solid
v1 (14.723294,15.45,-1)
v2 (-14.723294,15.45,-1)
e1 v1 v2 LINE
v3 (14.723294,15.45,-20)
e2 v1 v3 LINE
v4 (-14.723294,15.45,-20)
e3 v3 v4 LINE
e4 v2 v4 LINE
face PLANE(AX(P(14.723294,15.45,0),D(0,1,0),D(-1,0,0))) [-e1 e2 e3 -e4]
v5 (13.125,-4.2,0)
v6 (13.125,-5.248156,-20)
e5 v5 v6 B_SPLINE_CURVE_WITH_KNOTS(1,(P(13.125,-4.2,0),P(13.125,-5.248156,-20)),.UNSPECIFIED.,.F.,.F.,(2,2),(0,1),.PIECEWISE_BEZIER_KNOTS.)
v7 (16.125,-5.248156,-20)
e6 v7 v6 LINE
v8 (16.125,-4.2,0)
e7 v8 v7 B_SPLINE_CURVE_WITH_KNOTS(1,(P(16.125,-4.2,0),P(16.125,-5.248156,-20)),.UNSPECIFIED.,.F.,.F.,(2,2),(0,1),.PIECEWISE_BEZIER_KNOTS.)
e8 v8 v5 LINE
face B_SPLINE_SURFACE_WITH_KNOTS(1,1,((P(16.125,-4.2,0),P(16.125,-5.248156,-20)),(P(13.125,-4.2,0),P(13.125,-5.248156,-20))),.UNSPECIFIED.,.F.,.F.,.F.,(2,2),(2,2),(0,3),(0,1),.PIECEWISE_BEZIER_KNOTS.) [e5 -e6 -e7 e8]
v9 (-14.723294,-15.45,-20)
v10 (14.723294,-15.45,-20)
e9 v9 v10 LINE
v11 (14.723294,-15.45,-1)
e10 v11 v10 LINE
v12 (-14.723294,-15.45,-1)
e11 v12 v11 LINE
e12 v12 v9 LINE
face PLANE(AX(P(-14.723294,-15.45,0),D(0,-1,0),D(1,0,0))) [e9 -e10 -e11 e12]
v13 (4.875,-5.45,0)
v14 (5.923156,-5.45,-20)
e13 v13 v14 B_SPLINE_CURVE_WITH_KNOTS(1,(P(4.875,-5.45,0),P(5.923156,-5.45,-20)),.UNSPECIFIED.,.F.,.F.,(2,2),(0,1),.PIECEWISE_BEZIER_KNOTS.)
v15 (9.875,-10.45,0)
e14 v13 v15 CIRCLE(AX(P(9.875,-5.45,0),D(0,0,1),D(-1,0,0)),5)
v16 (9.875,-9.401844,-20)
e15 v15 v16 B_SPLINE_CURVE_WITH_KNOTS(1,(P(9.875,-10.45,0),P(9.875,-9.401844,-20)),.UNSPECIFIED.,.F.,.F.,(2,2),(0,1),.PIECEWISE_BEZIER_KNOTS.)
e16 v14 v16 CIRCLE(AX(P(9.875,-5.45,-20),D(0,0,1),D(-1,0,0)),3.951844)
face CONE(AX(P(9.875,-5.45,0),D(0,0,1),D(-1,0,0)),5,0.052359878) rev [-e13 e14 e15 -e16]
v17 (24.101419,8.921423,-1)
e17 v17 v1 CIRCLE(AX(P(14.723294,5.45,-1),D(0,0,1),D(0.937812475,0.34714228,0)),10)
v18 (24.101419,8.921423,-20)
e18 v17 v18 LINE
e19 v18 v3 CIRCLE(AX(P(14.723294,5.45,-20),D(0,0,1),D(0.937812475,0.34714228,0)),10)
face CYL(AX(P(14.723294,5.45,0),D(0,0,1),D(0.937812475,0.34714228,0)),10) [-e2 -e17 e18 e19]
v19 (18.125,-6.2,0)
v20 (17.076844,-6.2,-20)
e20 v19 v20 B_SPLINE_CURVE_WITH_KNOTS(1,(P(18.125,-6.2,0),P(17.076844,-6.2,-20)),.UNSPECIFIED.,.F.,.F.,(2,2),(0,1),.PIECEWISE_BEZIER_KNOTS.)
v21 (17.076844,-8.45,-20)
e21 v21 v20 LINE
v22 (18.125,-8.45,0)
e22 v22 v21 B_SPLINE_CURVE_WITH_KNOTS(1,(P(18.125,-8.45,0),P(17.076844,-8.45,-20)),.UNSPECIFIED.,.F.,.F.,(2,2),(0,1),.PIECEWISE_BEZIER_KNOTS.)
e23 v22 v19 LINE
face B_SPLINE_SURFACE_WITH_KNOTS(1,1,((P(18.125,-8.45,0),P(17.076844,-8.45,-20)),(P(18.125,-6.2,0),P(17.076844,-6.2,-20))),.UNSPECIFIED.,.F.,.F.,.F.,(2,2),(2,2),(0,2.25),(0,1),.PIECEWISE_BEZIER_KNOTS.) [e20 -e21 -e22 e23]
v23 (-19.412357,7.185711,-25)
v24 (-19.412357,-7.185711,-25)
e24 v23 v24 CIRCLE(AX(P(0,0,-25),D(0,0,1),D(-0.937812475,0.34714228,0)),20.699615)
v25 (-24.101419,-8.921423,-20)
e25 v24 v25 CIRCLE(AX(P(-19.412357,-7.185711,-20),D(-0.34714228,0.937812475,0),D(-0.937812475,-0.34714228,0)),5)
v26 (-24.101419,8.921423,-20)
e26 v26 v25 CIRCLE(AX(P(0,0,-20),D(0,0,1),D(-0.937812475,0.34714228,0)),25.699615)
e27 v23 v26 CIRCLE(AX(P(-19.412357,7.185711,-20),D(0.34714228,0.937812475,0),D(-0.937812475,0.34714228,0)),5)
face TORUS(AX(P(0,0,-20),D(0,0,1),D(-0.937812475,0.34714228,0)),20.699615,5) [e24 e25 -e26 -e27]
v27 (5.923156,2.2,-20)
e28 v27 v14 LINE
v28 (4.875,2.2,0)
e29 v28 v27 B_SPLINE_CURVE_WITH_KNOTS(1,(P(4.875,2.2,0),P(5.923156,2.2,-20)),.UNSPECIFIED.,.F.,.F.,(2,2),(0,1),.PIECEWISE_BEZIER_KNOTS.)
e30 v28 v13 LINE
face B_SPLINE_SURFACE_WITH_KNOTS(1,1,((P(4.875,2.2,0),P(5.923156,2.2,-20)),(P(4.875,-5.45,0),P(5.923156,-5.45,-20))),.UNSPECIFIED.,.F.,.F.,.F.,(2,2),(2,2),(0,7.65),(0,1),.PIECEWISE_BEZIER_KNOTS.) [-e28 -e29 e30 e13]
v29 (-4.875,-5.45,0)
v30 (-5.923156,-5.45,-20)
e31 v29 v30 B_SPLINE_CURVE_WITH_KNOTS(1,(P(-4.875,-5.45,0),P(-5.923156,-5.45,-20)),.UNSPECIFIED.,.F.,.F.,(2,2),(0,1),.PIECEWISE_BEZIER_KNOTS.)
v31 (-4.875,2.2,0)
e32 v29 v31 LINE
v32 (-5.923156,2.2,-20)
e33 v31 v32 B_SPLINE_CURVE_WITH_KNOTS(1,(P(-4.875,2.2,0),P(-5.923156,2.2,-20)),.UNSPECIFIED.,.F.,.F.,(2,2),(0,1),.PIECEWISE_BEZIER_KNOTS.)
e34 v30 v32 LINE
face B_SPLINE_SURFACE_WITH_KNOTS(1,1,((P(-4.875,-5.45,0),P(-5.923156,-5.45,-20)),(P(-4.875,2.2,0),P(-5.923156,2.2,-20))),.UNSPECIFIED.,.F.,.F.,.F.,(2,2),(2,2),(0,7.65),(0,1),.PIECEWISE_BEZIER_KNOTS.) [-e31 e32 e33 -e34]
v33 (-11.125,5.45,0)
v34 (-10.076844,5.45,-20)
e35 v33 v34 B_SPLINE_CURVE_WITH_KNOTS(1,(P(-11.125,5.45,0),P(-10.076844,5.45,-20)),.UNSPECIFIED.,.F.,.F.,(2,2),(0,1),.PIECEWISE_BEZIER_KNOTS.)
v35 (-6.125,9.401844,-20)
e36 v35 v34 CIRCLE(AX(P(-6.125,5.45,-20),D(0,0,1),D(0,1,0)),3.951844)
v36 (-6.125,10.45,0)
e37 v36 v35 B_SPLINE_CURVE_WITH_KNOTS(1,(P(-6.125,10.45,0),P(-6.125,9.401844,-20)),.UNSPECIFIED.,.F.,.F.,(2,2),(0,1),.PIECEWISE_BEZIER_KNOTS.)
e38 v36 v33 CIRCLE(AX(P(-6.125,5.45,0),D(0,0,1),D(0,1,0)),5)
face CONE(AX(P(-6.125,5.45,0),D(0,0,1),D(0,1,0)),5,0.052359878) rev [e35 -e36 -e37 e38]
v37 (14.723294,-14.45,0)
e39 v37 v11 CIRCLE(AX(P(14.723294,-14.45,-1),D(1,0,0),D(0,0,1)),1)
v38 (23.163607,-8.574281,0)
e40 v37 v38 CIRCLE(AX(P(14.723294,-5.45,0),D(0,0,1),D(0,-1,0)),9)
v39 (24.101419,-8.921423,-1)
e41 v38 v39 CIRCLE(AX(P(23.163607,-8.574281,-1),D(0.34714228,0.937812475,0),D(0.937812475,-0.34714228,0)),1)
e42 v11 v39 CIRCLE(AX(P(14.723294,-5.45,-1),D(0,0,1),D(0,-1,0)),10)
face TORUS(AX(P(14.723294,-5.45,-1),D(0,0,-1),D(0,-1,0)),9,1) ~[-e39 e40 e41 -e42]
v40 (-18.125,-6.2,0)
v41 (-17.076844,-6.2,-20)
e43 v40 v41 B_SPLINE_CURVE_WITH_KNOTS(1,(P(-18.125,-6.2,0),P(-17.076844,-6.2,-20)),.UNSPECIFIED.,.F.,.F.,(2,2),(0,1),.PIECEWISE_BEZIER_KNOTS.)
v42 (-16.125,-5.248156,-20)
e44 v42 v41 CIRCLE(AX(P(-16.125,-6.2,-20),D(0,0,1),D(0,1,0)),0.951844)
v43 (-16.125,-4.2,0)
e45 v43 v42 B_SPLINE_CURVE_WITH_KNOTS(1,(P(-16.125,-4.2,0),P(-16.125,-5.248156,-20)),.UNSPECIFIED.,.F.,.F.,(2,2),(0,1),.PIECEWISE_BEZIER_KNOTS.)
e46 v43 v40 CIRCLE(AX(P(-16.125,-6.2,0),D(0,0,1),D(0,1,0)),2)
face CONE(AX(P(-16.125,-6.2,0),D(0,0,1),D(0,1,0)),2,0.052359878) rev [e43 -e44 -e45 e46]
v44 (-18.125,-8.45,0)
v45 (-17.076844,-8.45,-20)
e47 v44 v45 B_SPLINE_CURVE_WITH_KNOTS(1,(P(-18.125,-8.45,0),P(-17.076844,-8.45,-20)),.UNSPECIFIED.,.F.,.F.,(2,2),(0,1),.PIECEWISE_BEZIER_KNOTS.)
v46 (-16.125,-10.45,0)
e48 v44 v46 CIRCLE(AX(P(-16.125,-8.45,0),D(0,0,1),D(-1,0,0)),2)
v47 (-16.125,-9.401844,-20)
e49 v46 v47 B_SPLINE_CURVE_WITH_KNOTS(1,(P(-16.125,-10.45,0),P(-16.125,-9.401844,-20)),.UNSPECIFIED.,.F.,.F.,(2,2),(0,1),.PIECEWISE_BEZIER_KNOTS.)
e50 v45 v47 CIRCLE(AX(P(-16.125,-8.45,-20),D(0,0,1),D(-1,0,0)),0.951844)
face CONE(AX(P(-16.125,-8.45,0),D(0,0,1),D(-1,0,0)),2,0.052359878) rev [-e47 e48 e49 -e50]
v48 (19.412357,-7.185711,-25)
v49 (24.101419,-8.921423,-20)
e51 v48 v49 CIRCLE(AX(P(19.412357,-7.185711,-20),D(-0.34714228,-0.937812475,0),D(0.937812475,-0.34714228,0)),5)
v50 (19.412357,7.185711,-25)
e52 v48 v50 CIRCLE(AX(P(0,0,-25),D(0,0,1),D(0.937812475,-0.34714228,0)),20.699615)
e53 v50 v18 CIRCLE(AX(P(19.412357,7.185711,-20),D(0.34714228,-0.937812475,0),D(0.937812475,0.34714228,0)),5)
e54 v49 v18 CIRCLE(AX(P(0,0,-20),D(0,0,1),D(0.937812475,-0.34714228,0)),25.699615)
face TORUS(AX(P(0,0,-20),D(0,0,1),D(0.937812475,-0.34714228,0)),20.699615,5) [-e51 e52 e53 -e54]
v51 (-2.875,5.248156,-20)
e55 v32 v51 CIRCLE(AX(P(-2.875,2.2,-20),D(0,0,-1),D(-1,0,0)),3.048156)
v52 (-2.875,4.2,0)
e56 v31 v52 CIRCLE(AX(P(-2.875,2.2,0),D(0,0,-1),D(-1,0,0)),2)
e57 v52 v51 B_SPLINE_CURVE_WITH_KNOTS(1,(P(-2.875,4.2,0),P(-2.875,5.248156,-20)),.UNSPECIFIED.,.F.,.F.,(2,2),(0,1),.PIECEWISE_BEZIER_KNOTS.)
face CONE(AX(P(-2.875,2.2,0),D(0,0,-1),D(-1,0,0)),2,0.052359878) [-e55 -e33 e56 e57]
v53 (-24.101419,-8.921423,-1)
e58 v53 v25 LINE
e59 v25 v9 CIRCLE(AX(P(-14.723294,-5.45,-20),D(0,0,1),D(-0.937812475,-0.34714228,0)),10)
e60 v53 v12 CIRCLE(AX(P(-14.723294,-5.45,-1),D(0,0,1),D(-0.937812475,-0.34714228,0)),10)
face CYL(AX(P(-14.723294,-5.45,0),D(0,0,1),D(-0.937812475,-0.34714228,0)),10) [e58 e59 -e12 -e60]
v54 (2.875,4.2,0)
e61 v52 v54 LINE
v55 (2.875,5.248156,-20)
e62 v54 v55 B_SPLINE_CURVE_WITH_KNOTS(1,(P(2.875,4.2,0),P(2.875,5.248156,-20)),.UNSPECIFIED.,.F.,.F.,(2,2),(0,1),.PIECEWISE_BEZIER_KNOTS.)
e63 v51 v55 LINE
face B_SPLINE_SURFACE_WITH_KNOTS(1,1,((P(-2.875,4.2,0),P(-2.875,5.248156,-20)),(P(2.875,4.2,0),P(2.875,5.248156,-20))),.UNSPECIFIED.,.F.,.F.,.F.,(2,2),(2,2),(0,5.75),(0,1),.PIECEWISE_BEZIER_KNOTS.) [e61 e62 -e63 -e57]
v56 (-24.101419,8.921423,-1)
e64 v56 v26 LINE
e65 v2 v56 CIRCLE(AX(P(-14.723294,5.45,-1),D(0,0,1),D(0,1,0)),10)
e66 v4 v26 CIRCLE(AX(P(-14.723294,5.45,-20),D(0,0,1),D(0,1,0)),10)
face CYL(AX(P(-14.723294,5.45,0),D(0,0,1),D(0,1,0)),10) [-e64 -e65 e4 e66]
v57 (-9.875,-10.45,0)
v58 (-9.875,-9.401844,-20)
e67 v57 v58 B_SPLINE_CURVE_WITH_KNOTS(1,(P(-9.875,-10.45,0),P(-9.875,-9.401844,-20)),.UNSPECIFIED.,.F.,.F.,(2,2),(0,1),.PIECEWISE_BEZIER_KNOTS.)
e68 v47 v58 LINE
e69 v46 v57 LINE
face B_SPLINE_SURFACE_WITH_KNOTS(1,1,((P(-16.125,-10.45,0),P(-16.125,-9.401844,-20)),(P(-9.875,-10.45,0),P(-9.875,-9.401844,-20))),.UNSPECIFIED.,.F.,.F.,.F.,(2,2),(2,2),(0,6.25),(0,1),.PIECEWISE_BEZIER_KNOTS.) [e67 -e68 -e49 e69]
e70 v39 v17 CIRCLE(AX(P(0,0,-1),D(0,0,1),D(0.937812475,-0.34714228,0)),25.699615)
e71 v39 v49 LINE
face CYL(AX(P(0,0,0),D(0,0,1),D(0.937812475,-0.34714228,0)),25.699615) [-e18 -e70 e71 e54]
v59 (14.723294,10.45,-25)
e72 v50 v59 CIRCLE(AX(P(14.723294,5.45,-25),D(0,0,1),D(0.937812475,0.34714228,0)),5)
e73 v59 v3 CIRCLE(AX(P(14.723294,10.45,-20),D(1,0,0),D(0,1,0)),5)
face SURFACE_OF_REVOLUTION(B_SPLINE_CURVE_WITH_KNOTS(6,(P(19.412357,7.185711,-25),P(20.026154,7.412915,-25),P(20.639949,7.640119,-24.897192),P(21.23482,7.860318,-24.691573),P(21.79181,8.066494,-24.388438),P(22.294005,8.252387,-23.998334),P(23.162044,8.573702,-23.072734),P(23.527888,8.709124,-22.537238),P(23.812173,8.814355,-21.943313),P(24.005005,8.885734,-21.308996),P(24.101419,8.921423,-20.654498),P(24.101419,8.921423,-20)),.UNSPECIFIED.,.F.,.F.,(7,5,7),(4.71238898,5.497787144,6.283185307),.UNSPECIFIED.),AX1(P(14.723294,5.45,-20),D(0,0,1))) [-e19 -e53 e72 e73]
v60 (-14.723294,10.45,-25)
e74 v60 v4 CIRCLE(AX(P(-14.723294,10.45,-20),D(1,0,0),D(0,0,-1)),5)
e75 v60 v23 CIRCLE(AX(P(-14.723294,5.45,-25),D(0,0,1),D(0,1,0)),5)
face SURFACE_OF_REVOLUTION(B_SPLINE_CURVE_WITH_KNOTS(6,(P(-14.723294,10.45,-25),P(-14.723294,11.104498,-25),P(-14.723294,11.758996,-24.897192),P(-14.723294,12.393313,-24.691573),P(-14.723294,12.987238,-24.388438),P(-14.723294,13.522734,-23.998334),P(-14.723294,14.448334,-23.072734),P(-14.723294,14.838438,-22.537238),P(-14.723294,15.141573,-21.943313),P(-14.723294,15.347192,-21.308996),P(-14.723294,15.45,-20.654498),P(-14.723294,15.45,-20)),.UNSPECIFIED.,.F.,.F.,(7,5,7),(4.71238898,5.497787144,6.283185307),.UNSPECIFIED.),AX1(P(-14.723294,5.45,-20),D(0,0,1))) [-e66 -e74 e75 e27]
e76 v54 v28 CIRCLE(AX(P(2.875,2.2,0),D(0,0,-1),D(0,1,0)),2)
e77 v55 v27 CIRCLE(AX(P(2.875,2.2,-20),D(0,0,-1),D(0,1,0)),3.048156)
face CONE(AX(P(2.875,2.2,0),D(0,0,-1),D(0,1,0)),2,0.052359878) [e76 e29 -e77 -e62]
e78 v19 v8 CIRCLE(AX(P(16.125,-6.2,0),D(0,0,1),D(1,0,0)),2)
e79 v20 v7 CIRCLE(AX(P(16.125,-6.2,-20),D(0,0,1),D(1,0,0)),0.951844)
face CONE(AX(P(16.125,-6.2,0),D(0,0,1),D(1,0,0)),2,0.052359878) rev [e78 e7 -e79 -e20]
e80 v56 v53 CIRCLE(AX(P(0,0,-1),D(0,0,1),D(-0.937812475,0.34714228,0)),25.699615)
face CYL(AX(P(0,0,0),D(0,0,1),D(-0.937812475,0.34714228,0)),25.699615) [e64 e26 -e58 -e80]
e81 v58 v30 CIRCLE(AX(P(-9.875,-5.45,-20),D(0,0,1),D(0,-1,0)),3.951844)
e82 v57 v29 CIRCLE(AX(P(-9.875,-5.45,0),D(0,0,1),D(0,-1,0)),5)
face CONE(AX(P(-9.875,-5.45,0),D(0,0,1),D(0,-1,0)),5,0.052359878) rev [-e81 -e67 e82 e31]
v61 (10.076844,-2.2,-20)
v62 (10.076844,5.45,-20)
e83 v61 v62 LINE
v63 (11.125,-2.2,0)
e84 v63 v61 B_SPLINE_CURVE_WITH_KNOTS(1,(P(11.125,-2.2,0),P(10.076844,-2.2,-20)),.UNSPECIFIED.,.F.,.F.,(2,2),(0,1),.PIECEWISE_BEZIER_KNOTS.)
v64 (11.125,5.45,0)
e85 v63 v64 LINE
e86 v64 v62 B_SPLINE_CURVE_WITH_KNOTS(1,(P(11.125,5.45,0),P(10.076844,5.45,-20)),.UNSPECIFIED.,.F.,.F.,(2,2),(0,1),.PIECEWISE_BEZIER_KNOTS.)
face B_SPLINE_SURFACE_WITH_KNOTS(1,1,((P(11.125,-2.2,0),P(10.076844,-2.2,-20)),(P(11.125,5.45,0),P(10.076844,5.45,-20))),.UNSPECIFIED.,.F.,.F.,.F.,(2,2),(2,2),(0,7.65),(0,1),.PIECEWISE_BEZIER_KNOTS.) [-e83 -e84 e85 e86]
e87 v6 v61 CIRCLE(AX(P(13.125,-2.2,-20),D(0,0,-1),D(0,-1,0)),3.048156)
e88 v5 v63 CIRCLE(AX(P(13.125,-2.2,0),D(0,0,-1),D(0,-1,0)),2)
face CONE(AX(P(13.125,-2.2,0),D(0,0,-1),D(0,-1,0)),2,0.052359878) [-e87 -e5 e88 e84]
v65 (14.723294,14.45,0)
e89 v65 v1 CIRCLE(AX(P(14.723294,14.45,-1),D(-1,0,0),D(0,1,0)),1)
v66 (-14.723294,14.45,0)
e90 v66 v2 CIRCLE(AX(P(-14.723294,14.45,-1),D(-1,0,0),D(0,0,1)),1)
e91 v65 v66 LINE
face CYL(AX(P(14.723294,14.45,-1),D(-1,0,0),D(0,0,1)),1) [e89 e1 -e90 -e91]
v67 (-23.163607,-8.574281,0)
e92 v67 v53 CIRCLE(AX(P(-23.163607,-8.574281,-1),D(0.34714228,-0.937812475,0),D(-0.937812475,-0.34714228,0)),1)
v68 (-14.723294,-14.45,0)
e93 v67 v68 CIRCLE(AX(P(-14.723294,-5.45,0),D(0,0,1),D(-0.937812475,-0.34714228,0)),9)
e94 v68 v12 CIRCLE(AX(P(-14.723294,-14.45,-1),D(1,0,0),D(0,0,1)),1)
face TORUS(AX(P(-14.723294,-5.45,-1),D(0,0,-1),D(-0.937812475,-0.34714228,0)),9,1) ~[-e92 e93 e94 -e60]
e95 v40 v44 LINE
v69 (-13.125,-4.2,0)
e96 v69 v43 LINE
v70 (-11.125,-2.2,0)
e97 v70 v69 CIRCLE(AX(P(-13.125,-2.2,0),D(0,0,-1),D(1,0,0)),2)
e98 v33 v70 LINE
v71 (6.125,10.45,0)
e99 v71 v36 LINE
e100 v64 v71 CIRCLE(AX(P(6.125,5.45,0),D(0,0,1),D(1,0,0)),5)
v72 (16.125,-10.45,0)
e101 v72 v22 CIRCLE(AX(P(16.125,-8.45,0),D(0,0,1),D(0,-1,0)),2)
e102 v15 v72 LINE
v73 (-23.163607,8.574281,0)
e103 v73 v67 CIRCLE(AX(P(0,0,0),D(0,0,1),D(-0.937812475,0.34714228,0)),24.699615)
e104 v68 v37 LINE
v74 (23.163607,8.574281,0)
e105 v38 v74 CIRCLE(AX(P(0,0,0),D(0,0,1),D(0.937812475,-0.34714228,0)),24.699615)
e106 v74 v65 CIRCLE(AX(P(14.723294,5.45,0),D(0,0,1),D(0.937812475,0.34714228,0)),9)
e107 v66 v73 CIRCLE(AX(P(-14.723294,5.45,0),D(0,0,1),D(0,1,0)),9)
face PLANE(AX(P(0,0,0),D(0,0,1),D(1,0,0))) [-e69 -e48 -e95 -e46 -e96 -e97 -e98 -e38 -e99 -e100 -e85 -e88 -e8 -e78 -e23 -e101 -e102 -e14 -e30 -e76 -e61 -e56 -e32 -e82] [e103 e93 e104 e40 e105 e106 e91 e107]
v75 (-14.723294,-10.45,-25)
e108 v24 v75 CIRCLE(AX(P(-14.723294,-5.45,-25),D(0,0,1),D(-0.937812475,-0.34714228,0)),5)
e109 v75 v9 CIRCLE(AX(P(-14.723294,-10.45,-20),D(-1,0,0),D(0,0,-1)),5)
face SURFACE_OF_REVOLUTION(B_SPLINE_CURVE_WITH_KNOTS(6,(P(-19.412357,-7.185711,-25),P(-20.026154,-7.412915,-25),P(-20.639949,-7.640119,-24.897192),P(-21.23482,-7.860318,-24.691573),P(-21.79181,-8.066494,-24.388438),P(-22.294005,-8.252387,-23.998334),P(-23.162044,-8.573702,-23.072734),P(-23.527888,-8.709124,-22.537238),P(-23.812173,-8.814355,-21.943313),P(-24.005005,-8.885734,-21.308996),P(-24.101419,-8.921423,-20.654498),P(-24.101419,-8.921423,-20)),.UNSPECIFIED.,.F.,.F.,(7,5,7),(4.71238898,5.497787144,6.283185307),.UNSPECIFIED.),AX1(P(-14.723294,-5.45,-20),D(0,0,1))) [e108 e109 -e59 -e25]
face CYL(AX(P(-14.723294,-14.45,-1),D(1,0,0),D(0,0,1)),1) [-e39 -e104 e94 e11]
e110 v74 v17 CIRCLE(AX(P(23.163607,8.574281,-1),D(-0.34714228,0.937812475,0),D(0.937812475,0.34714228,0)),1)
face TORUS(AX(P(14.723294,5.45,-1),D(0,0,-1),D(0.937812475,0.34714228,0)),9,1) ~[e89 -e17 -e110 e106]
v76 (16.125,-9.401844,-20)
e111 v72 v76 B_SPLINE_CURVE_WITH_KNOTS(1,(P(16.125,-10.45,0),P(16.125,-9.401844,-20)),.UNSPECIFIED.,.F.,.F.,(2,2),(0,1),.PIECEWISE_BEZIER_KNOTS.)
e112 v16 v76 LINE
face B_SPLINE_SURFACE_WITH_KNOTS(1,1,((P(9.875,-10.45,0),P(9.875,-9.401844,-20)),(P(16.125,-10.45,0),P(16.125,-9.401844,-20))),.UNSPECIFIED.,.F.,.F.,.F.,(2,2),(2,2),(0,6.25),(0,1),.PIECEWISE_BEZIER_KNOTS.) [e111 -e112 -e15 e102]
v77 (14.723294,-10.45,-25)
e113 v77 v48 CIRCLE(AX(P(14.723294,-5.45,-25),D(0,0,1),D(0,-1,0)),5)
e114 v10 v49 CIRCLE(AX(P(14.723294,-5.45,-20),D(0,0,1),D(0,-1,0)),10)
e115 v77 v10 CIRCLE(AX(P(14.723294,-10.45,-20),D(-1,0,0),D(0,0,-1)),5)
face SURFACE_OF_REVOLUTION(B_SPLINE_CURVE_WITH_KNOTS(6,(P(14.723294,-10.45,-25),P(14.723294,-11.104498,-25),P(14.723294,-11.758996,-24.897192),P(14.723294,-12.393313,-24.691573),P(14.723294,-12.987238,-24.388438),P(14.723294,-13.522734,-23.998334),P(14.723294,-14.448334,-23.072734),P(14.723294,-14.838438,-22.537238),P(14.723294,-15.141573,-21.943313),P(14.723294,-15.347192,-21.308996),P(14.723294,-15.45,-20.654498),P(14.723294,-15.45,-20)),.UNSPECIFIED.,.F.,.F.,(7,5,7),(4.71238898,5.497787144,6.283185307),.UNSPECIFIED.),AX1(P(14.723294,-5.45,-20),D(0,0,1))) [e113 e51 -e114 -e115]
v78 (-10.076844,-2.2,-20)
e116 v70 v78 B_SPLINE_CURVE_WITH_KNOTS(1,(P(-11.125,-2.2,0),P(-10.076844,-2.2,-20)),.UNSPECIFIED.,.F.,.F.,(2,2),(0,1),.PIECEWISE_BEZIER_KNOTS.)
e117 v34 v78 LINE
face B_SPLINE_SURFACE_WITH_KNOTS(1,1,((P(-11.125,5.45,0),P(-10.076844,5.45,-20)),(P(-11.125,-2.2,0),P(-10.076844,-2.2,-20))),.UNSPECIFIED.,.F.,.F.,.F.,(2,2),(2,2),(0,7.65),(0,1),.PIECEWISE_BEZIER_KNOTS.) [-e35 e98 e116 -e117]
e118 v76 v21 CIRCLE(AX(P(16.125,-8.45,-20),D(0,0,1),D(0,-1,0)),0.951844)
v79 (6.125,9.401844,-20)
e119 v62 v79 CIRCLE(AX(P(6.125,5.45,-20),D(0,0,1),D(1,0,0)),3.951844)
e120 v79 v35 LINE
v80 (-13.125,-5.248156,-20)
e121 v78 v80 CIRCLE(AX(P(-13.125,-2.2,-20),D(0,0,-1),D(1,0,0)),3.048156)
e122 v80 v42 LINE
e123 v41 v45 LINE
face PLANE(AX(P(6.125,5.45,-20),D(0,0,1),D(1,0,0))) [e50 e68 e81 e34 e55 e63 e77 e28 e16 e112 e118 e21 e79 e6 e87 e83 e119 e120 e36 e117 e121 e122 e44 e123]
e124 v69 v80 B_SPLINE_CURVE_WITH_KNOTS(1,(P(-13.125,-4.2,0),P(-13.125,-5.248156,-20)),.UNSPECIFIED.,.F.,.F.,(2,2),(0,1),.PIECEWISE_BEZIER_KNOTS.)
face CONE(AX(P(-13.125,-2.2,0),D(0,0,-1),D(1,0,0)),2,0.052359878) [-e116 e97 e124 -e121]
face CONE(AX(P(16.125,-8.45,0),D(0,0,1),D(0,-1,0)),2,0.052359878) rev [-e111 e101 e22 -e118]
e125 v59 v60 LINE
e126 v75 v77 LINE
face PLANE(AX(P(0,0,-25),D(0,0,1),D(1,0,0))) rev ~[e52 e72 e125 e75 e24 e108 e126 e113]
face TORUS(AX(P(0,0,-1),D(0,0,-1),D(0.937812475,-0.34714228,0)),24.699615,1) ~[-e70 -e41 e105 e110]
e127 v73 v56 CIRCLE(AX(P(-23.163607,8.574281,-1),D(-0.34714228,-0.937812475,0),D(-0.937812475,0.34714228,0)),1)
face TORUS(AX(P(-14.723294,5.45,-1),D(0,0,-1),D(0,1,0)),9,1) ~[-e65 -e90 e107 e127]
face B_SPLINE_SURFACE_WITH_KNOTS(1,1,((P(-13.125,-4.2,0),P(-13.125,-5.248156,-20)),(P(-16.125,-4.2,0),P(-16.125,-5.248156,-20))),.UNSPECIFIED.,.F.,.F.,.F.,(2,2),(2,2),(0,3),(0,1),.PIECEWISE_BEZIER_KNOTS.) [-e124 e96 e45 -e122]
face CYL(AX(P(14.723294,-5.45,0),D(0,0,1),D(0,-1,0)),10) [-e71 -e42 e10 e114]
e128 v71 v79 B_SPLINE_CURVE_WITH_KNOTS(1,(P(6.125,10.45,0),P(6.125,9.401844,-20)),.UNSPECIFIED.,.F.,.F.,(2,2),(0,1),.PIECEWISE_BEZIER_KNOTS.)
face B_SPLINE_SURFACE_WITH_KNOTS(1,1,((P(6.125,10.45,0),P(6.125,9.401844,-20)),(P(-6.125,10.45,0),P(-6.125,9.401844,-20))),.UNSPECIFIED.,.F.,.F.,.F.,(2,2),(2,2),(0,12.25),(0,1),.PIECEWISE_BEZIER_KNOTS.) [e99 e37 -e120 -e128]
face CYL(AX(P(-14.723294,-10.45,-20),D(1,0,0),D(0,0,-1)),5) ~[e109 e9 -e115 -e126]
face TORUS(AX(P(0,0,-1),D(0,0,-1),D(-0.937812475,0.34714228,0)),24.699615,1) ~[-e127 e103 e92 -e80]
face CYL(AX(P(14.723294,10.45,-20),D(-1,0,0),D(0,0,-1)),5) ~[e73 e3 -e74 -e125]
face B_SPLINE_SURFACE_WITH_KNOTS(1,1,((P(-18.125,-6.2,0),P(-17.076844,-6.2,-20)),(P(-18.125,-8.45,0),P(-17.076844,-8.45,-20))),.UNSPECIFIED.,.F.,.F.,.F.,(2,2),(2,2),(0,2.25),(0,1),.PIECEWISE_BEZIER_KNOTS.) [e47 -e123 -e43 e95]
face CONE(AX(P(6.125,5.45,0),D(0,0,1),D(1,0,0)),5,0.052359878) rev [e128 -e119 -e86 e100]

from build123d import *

# Parameters (mm, degrees)
F1_DEPTH = 25
F2_DEPTH = 20
F2_TAPER = 3
F3_R     = 1
F4_R     = 5


with BuildPart() as f1:
    # F0 (on Top) → F1 (new body)
    with BuildSketch(Plane.XY):
        with BuildLine():
            ThreePointArc((-14.723294392, 15.45), (-20.4366897043, 13.6571379912), (-24.1014191371, 8.9214228012))
            ThreePointArc((-24.1014191371, 8.9214228012), (-25.6996145734, 0), (-24.1014191371, -8.9214228012))
            ThreePointArc((-24.1014191371, -8.9214228012), (-20.4366897043, -13.6571379912), (-14.723294392, -15.45))
            Line((-14.723294392, -15.45), (14.723294392, -15.45))
            ThreePointArc((14.723294392, -15.45), (20.4366897043, -13.6571379912), (24.1014191371, -8.9214228012))
            ThreePointArc((24.1014191371, -8.9214228012), (25.6996145734, 0), (24.1014191371, 8.9214228012))
            ThreePointArc((24.1014191371, 8.9214228012), (20.4366897043, 13.6571379912), (14.723294392, 15.45))
            Line((14.723294392, 15.45), (-14.723294392, 15.45))
        make_face()
        with BuildLine():
            Line((-6.125, 10.45), (6.125, 10.45))
            ThreePointArc((6.125, 10.45), (9.6605339059, 8.9855339059), (11.125, 5.45))
            Line((11.125, 5.45), (11.125, -2.2))
            ThreePointArc((11.125, -2.2), (11.7107864376, -3.6142135624), (13.125, -4.2))
            Line((13.125, -4.2), (16.125, -4.2))
            ThreePointArc((16.125, -4.2), (17.5392135624, -4.7857864376), (18.125, -6.2))
            Line((18.125, -6.2), (18.125, -8.45))
            ThreePointArc((18.125, -8.45), (17.5392135624, -9.8642135624), (16.125, -10.45))
            Line((16.125, -10.45), (9.875, -10.45))
            ThreePointArc((9.875, -10.45), (6.3394660941, -8.9855339059), (4.875, -5.45))
            Line((4.875, -5.45), (4.875, 2.2))
            ThreePointArc((4.875, 2.2), (4.2892135624, 3.6142135624), (2.875, 4.2))
            Line((2.875, 4.2), (-2.875, 4.2))
            ThreePointArc((-2.875, 4.2), (-4.2892135624, 3.6142135624), (-4.875, 2.2))
            Line((-4.875, 2.2), (-4.875, -5.45))
            ThreePointArc((-4.875, -5.45), (-6.3394660941, -8.9855339059), (-9.875, -10.45))
            Line((-9.875, -10.45), (-16.125, -10.45))
            ThreePointArc((-16.125, -10.45), (-17.5392135624, -9.8642135624), (-18.125, -8.45))
            Line((-18.125, -8.45), (-18.125, -6.2))
            ThreePointArc((-18.125, -6.2), (-17.5392135624, -4.7857864376), (-16.125, -4.2))
            Line((-16.125, -4.2), (-13.125, -4.2))
            ThreePointArc((-13.125, -4.2), (-11.7107864376, -3.6142135624), (-11.125, -2.2))
            Line((-11.125, -2.2), (-11.125, 5.45))
            ThreePointArc((-11.125, 5.45), (-9.6605339059, 8.9855339059), (-6.125, 10.45))
        make_face(mode=Mode.SUBTRACT)
        with BuildLine():
            ThreePointArc((11.125, 5.45), (9.6605339059, 8.9855339059), (6.125, 10.45))
            Line((6.125, 10.45), (-6.125, 10.45))
            ThreePointArc((-6.125, 10.45), (-9.6605339059, 8.9855339059), (-11.125, 5.45))
            Line((-11.125, 5.45), (-11.125, -2.2))
            ThreePointArc((-11.125, -2.2), (-11.7107864376, -3.6142135624), (-13.125, -4.2))
            Line((-13.125, -4.2), (-16.125, -4.2))
            ThreePointArc((-16.125, -4.2), (-17.5392135624, -4.7857864376), (-18.125, -6.2))
            Line((-18.125, -6.2), (-18.125, -8.45))
            ThreePointArc((-18.125, -8.45), (-17.5392135624, -9.8642135624), (-16.125, -10.45))
            Line((-16.125, -10.45), (-9.875, -10.45))
            ThreePointArc((-9.875, -10.45), (-6.3394660941, -8.9855339059), (-4.875, -5.45))
            Line((-4.875, -5.45), (-4.875, 2.2))
            ThreePointArc((-4.875, 2.2), (-4.2892135624, 3.6142135624), (-2.875, 4.2))
            Line((-2.875, 4.2), (2.875, 4.2))
            ThreePointArc((2.875, 4.2), (4.2892135624, 3.6142135624), (4.875, 2.2))
            Line((4.875, 2.2), (4.875, -5.45))
            ThreePointArc((4.875, -5.45), (6.3394660941, -8.9855339059), (9.875, -10.45))
            Line((9.875, -10.45), (16.125, -10.45))
            ThreePointArc((16.125, -10.45), (17.5392135624, -9.8642135624), (18.125, -8.45))
            Line((18.125, -8.45), (18.125, -6.2))
            ThreePointArc((18.125, -6.2), (17.5392135624, -4.7857864376), (16.125, -4.2))
            Line((16.125, -4.2), (13.125, -4.2))
            ThreePointArc((13.125, -4.2), (11.7107864376, -3.6142135624), (11.125, -2.2))
            Line((11.125, -2.2), (11.125, 5.45))
        make_face()
    extrude(amount=-F1_DEPTH)

    # F0 (on Top) → F2 (cut)
    with BuildSketch(Plane.XY):
        with BuildLine():
            ThreePointArc((11.125, 5.45), (9.6605339059, 8.9855339059), (6.125, 10.45))
            Line((6.125, 10.45), (-6.125, 10.45))
            ThreePointArc((-6.125, 10.45), (-9.6605339059, 8.9855339059), (-11.125, 5.45))
            Line((-11.125, 5.45), (-11.125, -2.2))
            ThreePointArc((-11.125, -2.2), (-11.7107864376, -3.6142135624), (-13.125, -4.2))
            Line((-13.125, -4.2), (-16.125, -4.2))
            ThreePointArc((-16.125, -4.2), (-17.5392135624, -4.7857864376), (-18.125, -6.2))
            Line((-18.125, -6.2), (-18.125, -8.45))
            ThreePointArc((-18.125, -8.45), (-17.5392135624, -9.8642135624), (-16.125, -10.45))
            Line((-16.125, -10.45), (-9.875, -10.45))
            ThreePointArc((-9.875, -10.45), (-6.3394660941, -8.9855339059), (-4.875, -5.45))
            Line((-4.875, -5.45), (-4.875, 2.2))
            ThreePointArc((-4.875, 2.2), (-4.2892135624, 3.6142135624), (-2.875, 4.2))
            Line((-2.875, 4.2), (2.875, 4.2))
            ThreePointArc((2.875, 4.2), (4.2892135624, 3.6142135624), (4.875, 2.2))
            Line((4.875, 2.2), (4.875, -5.45))
            ThreePointArc((4.875, -5.45), (6.3394660941, -8.9855339059), (9.875, -10.45))
            Line((9.875, -10.45), (16.125, -10.45))
            ThreePointArc((16.125, -10.45), (17.5392135624, -9.8642135624), (18.125, -8.45))
            Line((18.125, -8.45), (18.125, -6.2))
            ThreePointArc((18.125, -6.2), (17.5392135624, -4.7857864376), (16.125, -4.2))
            Line((16.125, -4.2), (13.125, -4.2))
            ThreePointArc((13.125, -4.2), (11.7107864376, -3.6142135624), (11.125, -2.2))
            Line((11.125, -2.2), (11.125, 5.45))
        make_face()
    extrude(amount=-F2_DEPTH, taper=F2_TAPER, mode=Mode.SUBTRACT)

    # F3
    f3_edges = [f1.edges().sort_by_distance(p)[0] for p in [
        (0, -15.45, 0),
    ]]
    fillet(f3_edges, radius=F3_R)

    # F4
    f4_edges = [f1.edges().sort_by_distance(p)[0] for p in [
        (0, -15.45, -25),
    ]]
    fillet(f4_edges, radius=F4_R)


solid = f1.part
